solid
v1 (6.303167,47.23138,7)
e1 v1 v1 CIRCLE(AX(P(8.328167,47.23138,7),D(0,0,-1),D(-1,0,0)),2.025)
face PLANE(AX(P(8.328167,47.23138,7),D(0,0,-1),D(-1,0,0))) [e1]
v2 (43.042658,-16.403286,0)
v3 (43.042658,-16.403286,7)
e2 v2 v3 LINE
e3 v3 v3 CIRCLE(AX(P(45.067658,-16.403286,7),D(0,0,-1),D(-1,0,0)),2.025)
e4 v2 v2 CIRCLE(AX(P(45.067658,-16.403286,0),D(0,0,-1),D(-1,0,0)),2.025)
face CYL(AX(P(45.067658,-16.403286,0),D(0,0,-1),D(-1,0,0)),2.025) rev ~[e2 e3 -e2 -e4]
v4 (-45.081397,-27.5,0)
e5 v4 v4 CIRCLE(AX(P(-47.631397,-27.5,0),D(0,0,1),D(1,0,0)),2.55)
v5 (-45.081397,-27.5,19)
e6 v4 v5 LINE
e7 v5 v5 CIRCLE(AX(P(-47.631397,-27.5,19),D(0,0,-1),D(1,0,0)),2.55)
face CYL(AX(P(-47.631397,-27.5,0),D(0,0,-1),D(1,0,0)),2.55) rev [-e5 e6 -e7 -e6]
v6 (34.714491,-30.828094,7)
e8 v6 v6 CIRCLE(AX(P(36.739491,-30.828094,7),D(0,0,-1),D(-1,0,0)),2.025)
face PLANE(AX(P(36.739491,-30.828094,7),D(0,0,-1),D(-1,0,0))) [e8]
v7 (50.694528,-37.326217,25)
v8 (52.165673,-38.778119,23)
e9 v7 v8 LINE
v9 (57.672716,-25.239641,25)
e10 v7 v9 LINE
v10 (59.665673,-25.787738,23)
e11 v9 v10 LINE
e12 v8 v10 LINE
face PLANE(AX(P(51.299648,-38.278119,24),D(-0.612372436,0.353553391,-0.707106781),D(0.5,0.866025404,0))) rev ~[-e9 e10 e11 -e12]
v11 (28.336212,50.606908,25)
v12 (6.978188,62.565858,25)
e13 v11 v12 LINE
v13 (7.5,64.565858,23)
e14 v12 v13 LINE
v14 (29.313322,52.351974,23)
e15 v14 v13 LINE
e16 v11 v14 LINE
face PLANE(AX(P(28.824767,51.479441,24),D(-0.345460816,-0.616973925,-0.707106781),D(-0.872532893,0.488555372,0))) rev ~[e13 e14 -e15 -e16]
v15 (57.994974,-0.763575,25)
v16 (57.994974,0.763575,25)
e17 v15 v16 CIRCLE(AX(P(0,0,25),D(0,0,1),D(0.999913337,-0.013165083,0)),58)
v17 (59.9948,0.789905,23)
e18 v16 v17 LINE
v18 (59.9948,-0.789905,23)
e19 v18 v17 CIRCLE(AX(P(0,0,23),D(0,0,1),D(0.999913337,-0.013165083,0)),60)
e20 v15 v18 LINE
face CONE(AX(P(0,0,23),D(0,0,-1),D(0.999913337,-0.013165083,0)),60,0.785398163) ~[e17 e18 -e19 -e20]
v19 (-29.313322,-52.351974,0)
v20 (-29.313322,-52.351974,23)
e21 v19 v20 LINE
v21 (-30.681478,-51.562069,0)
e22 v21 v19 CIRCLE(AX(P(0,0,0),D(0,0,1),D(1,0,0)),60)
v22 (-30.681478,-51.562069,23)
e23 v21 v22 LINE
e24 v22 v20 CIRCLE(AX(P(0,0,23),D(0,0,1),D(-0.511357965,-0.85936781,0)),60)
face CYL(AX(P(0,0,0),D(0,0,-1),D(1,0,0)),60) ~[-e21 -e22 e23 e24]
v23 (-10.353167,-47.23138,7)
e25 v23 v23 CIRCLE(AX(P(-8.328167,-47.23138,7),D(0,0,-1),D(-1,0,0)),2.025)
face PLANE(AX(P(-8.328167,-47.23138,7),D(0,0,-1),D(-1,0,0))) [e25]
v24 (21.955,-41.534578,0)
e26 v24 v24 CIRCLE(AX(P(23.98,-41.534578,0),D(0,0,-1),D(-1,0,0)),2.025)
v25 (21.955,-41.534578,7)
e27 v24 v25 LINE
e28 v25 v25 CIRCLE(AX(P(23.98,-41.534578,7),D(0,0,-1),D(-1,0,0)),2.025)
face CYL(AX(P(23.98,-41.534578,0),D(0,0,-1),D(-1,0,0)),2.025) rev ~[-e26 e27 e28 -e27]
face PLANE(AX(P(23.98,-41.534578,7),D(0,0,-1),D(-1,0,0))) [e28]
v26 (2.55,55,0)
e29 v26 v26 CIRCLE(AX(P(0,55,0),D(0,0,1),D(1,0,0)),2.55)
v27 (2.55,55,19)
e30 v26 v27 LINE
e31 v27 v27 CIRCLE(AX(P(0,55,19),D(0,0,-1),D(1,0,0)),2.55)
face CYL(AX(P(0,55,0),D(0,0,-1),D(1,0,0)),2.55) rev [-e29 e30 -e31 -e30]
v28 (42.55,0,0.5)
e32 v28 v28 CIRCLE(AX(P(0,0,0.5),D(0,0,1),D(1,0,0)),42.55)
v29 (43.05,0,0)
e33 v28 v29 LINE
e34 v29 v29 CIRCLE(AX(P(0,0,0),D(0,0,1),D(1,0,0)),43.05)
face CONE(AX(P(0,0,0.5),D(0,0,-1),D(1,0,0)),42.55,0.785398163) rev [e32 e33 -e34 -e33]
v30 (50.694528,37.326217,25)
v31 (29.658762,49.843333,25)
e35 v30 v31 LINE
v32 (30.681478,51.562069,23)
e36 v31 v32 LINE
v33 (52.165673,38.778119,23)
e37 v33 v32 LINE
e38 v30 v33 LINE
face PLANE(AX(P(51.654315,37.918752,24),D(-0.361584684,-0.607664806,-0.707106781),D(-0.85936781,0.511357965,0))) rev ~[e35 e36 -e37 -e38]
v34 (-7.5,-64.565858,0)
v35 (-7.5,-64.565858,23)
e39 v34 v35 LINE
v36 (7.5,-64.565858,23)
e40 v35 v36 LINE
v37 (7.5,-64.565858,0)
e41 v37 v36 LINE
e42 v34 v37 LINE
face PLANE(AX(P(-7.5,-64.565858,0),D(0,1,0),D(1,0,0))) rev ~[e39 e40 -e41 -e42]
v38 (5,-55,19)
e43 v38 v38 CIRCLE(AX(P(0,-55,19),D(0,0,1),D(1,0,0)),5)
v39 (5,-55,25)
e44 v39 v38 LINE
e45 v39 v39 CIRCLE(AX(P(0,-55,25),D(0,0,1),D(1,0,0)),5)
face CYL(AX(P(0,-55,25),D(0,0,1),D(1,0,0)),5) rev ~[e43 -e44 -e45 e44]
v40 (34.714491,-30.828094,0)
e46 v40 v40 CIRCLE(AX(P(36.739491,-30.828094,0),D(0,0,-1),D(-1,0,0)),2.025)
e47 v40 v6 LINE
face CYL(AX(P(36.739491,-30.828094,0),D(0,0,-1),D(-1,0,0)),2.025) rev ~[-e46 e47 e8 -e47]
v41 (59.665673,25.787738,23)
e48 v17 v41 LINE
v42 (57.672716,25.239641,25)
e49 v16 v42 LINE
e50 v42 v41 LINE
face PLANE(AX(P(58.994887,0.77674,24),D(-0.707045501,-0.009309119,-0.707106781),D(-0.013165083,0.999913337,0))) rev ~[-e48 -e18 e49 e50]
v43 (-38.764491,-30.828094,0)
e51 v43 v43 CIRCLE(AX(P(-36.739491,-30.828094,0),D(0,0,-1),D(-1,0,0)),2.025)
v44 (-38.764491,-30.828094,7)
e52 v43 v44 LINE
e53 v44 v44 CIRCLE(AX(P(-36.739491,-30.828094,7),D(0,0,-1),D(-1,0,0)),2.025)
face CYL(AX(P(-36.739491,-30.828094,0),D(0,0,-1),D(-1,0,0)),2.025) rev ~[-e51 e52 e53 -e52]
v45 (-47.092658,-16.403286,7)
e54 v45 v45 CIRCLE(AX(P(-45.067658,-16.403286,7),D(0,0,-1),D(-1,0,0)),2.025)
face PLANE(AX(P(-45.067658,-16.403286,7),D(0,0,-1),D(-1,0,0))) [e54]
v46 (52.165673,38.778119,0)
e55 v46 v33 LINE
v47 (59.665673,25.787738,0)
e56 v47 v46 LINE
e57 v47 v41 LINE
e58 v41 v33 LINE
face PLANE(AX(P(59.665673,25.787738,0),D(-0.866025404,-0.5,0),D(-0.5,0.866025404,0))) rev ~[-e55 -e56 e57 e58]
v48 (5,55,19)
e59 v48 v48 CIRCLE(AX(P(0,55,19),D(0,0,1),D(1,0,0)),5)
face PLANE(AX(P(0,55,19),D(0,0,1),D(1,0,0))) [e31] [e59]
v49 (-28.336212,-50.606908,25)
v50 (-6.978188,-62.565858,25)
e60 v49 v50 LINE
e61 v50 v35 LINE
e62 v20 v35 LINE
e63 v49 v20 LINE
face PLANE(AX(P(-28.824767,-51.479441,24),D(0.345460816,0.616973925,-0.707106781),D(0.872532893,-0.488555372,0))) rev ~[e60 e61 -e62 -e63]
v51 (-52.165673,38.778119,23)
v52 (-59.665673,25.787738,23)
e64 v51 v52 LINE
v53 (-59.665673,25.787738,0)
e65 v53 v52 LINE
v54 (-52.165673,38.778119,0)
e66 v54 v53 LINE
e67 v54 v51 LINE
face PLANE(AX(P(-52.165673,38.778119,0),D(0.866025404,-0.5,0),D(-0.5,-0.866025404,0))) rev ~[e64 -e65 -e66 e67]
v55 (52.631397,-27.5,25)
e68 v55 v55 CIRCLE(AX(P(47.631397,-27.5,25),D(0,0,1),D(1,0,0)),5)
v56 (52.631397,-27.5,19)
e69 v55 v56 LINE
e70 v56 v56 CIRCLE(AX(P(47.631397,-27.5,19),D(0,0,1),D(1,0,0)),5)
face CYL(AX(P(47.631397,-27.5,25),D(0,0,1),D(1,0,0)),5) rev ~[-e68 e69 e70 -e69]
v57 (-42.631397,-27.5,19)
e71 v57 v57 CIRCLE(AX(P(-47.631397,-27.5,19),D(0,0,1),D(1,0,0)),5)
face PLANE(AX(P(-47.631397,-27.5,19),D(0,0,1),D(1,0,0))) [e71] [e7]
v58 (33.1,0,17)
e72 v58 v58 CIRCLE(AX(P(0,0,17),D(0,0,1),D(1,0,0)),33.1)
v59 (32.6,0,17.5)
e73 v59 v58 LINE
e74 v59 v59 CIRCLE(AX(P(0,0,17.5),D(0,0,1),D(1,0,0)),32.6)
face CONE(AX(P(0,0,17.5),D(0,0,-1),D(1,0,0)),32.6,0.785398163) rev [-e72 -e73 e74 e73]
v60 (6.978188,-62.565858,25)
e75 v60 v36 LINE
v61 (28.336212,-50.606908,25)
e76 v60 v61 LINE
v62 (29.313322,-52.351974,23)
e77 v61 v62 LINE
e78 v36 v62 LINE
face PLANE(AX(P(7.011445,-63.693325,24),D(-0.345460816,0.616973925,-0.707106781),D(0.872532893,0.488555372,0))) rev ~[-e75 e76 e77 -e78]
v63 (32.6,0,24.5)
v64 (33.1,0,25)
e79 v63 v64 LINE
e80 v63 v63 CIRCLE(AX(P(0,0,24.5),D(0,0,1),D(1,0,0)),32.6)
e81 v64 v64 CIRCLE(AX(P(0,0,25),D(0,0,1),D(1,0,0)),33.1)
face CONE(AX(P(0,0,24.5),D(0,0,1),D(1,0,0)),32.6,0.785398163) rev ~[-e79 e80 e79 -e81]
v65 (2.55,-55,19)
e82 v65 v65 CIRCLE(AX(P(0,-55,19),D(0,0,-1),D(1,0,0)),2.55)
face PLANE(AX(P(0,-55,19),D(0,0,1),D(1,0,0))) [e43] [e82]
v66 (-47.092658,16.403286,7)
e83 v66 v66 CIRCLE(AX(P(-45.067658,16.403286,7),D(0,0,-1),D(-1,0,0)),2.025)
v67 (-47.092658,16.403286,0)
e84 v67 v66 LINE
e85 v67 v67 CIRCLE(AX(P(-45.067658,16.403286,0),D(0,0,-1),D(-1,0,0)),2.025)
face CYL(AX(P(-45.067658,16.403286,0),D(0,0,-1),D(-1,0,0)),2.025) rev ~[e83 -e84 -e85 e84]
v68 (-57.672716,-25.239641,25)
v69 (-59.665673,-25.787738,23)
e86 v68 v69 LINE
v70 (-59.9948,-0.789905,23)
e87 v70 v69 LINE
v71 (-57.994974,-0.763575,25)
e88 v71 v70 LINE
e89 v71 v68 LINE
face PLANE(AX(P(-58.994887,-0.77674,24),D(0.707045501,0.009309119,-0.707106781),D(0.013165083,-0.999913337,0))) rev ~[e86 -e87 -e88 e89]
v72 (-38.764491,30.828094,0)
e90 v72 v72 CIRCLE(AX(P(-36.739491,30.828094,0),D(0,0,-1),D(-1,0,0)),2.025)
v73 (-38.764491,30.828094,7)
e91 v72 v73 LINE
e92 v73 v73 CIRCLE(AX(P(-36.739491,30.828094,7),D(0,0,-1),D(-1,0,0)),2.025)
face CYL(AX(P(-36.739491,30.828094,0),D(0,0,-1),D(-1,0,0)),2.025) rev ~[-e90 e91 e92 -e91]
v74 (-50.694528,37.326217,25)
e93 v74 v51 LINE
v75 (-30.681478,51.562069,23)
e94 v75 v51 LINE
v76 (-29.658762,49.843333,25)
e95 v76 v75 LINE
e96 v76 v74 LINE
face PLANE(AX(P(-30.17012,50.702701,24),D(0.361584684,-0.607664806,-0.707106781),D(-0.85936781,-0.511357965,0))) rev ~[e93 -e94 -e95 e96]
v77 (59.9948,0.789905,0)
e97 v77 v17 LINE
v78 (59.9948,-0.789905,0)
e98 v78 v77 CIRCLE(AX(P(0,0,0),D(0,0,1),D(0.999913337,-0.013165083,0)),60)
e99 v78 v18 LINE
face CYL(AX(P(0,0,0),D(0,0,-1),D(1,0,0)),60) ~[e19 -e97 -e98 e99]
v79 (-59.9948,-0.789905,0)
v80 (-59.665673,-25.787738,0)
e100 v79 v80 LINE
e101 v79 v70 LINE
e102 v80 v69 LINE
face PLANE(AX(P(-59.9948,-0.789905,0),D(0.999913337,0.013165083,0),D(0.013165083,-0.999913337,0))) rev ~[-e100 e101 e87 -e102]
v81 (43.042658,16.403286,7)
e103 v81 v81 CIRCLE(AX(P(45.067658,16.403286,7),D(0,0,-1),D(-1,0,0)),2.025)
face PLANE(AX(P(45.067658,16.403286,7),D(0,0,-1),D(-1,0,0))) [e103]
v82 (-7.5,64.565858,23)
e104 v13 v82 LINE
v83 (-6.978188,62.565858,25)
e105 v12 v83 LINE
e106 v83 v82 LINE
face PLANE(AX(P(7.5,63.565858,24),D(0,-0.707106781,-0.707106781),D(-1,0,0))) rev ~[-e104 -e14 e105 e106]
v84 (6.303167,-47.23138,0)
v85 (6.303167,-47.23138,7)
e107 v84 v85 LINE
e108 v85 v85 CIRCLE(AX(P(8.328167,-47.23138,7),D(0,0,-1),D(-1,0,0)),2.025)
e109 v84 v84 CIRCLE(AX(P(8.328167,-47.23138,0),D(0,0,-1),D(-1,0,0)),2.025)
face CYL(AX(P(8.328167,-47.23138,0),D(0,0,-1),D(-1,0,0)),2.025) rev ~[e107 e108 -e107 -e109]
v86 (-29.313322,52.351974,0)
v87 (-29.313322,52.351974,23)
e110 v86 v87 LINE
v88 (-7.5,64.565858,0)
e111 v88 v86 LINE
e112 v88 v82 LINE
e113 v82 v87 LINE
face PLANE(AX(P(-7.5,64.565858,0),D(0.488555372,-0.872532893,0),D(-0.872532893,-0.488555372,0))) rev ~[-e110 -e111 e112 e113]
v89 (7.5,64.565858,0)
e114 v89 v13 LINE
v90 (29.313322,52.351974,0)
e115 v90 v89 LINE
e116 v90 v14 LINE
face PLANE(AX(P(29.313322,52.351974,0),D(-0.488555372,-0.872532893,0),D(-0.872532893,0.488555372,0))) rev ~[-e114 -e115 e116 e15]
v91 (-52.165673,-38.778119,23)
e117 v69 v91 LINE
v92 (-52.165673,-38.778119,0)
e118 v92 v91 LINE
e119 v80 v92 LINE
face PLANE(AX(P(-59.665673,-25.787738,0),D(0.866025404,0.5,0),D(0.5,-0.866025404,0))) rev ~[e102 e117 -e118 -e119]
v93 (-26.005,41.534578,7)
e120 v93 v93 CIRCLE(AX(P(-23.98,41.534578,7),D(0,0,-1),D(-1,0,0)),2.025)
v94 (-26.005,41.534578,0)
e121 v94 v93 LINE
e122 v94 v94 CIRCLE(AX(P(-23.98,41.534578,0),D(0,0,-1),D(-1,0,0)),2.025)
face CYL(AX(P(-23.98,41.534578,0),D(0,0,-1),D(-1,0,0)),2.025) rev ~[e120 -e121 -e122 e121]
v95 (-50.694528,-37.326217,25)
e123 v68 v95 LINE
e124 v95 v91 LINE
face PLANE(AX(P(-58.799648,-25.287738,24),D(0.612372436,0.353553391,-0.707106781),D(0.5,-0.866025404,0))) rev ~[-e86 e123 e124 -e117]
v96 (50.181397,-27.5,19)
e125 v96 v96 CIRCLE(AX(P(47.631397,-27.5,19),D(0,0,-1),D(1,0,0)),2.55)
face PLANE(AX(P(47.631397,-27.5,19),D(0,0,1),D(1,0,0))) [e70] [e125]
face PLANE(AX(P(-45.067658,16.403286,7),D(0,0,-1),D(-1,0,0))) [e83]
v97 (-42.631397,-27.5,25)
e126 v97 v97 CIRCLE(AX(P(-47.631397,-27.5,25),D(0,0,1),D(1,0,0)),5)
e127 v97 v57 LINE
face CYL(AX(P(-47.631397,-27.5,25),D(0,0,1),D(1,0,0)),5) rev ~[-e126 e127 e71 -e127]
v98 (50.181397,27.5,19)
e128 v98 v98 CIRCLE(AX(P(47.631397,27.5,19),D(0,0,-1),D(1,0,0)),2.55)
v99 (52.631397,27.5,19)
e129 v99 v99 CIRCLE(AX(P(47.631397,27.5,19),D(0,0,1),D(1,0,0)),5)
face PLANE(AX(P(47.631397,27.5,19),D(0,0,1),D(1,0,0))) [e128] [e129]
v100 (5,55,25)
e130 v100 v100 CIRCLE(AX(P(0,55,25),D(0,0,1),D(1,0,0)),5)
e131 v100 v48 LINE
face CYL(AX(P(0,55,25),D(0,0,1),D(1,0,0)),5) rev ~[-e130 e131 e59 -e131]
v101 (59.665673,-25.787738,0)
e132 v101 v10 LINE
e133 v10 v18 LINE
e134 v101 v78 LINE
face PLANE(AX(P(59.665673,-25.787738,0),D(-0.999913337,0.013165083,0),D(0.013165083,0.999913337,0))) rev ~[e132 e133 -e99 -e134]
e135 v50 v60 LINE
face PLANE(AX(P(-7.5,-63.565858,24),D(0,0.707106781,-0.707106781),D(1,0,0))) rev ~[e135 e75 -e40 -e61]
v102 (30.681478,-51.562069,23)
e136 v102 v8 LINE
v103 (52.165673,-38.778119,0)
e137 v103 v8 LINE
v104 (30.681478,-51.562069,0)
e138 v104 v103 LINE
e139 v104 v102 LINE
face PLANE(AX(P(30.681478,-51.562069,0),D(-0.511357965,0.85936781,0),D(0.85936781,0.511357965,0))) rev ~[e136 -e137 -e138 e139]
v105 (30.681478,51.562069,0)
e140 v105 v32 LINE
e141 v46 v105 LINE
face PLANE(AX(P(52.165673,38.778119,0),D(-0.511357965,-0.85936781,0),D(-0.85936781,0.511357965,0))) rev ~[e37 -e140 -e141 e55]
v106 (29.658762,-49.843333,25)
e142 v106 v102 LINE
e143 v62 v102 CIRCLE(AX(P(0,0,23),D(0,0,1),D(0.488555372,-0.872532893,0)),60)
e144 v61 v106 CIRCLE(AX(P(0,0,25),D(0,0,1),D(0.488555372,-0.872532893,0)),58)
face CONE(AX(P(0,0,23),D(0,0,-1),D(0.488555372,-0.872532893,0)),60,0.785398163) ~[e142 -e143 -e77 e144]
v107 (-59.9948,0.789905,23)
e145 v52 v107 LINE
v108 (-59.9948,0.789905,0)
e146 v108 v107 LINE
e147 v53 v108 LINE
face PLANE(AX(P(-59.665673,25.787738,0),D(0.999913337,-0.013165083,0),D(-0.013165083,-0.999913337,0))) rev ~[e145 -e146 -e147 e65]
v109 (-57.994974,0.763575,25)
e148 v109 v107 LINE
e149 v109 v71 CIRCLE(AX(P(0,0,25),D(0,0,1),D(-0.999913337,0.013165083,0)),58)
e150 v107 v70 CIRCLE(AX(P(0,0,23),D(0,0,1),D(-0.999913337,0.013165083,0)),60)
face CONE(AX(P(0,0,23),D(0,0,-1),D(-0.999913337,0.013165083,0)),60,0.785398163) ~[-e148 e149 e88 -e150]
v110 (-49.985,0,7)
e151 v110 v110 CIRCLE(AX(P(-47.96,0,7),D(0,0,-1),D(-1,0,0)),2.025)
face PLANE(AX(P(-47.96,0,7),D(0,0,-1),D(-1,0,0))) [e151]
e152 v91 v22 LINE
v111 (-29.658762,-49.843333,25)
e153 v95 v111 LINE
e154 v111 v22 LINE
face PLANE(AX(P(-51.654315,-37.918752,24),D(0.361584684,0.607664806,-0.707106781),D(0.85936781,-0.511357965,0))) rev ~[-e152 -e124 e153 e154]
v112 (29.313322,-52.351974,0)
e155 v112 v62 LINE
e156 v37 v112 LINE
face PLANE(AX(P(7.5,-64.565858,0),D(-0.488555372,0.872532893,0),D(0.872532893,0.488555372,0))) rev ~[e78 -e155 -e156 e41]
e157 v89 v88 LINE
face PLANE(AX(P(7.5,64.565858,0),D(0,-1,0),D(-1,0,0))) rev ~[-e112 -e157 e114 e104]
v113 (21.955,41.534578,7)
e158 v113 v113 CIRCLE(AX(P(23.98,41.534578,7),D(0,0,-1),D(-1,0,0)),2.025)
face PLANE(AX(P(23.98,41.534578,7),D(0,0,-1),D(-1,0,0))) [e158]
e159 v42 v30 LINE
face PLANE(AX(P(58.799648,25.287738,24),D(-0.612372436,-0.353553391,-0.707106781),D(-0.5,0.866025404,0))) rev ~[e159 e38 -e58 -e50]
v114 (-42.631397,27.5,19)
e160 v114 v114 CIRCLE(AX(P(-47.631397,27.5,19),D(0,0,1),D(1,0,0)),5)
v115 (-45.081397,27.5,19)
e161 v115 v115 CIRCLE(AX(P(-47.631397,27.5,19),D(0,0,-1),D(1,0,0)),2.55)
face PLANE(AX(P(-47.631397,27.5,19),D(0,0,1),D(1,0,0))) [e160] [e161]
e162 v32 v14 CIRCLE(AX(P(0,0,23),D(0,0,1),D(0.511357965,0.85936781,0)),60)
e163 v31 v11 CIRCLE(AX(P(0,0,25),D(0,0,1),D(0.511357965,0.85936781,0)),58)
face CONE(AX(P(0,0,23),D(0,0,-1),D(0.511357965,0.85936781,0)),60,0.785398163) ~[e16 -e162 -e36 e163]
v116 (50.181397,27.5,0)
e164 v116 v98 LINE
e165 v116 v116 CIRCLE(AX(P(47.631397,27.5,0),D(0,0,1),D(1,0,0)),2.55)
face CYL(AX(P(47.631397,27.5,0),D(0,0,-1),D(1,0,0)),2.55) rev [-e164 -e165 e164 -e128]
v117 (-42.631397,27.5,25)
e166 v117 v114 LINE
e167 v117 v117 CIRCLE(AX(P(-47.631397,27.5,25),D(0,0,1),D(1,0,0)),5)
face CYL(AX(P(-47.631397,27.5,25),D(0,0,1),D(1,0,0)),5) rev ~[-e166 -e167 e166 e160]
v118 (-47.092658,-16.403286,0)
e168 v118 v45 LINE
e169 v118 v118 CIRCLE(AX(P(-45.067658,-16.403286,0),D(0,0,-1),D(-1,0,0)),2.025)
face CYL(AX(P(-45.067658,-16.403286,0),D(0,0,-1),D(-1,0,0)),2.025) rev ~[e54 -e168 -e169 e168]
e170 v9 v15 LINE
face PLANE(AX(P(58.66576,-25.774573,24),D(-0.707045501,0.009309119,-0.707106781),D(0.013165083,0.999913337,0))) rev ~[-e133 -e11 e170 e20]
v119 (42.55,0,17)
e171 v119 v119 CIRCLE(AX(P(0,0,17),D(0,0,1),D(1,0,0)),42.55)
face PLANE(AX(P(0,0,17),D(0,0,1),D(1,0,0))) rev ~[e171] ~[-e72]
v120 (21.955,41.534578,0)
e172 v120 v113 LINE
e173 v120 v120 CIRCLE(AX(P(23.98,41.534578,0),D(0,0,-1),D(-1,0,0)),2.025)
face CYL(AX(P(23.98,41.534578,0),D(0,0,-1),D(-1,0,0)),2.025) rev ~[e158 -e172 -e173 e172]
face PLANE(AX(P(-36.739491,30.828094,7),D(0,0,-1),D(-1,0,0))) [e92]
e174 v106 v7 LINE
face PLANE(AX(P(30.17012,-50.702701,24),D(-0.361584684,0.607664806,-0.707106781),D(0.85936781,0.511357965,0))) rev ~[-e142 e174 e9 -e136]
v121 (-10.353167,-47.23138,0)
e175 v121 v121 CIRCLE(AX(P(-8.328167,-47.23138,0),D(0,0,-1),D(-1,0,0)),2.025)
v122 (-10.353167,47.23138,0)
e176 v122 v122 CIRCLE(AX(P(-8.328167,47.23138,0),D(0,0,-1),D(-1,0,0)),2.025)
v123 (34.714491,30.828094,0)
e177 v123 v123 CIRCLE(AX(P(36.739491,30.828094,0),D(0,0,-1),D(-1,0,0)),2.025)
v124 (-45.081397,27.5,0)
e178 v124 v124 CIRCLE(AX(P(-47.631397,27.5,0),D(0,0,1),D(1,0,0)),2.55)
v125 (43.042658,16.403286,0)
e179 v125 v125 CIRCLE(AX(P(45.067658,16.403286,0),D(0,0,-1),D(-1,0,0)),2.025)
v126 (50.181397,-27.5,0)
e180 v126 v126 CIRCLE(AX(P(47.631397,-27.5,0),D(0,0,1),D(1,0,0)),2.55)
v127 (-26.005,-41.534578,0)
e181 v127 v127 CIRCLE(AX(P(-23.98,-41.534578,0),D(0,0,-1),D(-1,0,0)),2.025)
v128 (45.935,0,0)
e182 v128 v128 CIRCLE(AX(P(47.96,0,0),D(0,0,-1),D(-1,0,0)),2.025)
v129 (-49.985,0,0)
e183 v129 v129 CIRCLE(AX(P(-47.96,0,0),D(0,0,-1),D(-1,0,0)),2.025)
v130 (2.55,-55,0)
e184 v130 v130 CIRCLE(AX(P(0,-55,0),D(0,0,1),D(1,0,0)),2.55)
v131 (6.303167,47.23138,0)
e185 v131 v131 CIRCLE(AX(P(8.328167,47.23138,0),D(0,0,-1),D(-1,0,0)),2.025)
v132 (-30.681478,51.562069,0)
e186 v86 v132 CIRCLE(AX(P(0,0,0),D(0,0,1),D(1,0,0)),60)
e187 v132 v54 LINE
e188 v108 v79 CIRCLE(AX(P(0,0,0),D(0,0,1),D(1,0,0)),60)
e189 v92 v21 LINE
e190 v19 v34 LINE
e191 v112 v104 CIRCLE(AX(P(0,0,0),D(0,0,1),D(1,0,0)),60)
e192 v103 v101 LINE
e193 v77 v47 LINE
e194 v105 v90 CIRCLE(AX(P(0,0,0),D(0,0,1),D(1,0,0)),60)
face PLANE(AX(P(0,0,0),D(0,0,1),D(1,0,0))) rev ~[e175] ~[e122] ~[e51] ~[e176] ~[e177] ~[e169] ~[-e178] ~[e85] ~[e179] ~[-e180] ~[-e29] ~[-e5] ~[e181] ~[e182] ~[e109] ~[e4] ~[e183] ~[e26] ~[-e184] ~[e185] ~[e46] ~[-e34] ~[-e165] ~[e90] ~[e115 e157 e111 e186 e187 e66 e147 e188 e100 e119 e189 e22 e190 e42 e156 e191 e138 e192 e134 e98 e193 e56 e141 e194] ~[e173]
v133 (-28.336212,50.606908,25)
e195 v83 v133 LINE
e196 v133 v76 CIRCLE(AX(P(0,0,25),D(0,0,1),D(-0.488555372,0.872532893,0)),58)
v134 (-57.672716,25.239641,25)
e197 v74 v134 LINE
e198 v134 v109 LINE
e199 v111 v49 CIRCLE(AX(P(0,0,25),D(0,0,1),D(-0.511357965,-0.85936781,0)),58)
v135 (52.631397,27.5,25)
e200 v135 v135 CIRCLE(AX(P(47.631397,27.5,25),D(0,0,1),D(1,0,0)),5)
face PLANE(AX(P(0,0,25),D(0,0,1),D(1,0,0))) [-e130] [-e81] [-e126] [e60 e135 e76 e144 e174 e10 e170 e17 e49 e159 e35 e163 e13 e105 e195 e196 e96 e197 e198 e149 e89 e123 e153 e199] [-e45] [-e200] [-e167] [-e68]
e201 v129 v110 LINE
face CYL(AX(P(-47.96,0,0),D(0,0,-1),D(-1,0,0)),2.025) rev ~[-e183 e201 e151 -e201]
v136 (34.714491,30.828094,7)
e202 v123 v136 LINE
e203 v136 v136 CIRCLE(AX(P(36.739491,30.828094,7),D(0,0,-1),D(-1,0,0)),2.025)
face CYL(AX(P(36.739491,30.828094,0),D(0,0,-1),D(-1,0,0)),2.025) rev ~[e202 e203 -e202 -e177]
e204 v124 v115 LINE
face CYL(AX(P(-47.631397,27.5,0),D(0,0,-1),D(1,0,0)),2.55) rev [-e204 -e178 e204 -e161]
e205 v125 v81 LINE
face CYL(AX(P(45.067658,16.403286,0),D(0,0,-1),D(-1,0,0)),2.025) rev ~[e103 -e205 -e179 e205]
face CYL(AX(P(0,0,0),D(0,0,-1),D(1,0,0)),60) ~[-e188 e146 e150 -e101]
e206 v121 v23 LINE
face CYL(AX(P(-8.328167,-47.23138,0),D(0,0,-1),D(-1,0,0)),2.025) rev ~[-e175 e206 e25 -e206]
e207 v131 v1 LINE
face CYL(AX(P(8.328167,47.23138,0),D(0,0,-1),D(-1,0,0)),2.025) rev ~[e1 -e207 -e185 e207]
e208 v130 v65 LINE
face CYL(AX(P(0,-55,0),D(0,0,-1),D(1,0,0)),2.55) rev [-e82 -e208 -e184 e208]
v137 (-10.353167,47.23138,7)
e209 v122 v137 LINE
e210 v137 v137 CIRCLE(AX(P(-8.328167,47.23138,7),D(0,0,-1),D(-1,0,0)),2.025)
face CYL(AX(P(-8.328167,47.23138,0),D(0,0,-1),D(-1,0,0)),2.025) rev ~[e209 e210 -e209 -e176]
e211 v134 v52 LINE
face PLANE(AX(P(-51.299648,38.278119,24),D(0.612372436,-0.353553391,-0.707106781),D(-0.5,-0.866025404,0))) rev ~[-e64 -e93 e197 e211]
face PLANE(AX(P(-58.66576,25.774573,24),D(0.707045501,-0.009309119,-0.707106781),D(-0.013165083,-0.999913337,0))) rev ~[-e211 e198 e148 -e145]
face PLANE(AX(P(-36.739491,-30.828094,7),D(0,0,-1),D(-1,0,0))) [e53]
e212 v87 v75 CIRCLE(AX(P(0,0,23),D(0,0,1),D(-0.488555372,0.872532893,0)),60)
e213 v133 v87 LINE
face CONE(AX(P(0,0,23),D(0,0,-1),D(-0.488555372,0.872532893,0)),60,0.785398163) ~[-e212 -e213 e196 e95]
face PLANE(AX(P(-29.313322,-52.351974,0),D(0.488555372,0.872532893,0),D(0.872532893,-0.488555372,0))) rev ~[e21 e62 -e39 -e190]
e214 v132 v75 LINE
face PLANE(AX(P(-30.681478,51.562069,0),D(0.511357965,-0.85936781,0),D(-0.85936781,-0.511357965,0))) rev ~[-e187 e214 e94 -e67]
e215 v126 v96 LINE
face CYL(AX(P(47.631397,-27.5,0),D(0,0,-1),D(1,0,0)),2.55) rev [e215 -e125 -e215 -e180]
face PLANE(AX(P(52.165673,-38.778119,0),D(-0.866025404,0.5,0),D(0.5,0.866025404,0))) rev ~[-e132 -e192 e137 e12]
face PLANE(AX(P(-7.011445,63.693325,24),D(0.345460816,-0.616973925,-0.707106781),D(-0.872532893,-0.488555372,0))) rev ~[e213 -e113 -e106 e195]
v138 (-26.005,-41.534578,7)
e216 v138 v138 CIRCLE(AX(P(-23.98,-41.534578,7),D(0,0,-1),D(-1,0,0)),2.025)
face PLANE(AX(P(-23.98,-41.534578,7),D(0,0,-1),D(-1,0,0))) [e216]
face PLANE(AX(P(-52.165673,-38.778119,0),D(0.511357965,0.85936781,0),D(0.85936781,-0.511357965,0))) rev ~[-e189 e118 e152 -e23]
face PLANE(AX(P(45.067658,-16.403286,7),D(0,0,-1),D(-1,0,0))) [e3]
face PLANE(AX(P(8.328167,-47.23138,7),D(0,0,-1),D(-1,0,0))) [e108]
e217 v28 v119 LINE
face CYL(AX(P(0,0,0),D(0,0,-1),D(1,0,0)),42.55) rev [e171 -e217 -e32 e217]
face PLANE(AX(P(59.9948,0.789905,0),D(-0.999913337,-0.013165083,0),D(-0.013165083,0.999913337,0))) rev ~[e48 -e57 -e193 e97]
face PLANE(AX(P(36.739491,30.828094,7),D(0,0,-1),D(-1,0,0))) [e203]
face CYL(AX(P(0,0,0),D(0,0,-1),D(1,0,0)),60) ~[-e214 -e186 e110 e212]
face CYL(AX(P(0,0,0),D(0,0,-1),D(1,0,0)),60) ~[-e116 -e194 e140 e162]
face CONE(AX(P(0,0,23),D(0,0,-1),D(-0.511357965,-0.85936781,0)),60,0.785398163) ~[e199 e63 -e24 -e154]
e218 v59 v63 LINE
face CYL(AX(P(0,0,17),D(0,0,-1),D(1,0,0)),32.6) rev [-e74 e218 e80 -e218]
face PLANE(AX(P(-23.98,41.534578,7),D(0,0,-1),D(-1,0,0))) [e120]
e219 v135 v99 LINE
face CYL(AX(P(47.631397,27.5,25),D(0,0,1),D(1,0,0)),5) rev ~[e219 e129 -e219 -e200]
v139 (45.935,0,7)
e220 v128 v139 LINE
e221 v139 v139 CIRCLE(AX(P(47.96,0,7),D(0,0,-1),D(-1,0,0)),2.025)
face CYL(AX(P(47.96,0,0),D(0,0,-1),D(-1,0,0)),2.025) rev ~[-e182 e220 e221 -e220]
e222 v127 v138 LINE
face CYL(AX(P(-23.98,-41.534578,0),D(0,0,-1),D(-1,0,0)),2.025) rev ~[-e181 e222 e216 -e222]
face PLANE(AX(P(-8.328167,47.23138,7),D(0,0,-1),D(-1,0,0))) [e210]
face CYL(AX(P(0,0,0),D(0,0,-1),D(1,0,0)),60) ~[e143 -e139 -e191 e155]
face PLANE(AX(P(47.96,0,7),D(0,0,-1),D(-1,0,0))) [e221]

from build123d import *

# Parameters (mm, degrees)
SKETCH1_R           = 60
SKETCH1_R_2         = 2.55
SKETCH1_R_3         = 42.55
BOSS_EXTRUDE1_DEPTH = 25
BOSS_EXTRUDE2_START = -8
SKETCH3_R           = 42.55
SKETCH3_R_2         = 32.6
BOSS_EXTRUDE2_DEPTH = 8
BOSS_EXTRUDE3_DEPTH = 25
SKETCH8_R           = 5
CUT_EXTRUDE1_DEPTH  = 6
CHAMFER2_SIZE       = 0.5
CHAMFER3_SIZE       = 2
SKETCH9_R           = 2.025
CUT_EXTRUDE2_DEPTH  = 7


with BuildPart() as part:
    # Sketch1 → Boss-Extrude1 (new body)
    with BuildSketch(Plane.XY):
        Circle(SKETCH1_R)
        with Locations((0, 55)):
            Circle(SKETCH1_R_2, mode=Mode.SUBTRACT)
        with Locations((47.631397208, 27.5)):
            Circle(SKETCH1_R_2, mode=Mode.SUBTRACT)
        with Locations((47.631397208, -27.5)):
            Circle(SKETCH1_R_2, mode=Mode.SUBTRACT)
        with Locations((0, -55)):
            Circle(SKETCH1_R_2, mode=Mode.SUBTRACT)
        with Locations((-47.631397208, -27.5)):
            Circle(SKETCH1_R_2, mode=Mode.SUBTRACT)
        with Locations((-47.631397208, 27.5)):
            Circle(SKETCH1_R_2, mode=Mode.SUBTRACT)
        Circle(SKETCH1_R_3, mode=Mode.SUBTRACT)
    extrude(amount=BOSS_EXTRUDE1_DEPTH)

    # Sketch3 → Boss-Extrude2 (add)
    with BuildSketch(Plane.XY.offset(25).offset(BOSS_EXTRUDE2_START)):
        Circle(SKETCH3_R)
        Circle(SKETCH3_R_2, mode=Mode.SUBTRACT)
    extrude(amount=BOSS_EXTRUDE2_DEPTH)

    # Sketch7 → Boss-Extrude3 (add)
    with BuildSketch(Plane(origin=(0, 0, 0), x_dir=(-1, 0, 0), z_dir=(0, 0, -1))):
        with BuildLine():
            Line((-29.313322314, 52.351973553), (-7.5, 64.565857851))
            Line((-7.5, 64.565857851), (7.5, 64.565857851))
            Line((7.5, 64.565857851), (29.313322314, 52.351973553))
            ThreePointArc((29.313322314, 52.351973553), (0, 60), (-29.313322314, 52.351973553))
        make_face()
        with BuildLine():
            Line((59.665673116, 25.787738397), (59.994800192, 0.789904984))
            ThreePointArc((59.994800192, 0.789904984), (51.961524227, 30), (30.681477878, 51.56206857))
            Line((30.681477878, 51.56206857), (52.165673116, 38.778119454))
            Line((52.165673116, 38.778119454), (59.665673116, 25.787738397))
        make_face()
        with BuildLine():
            Line((52.165673116, -38.778119454), (30.681477878, -51.56206857))
            ThreePointArc((30.681477878, -51.56206857), (51.961524227, -30), (59.994800192, -0.789904984))
            Line((59.994800192, -0.789904984), (59.665673116, -25.787738397))
            Line((59.665673116, -25.787738397), (52.165673116, -38.778119454))
        make_face()
        with BuildLine():
            Line((-7.5, -64.565857851), (-29.313322314, -52.351973553))
            ThreePointArc((-29.313322314, -52.351973553), (0, -60), (29.313322314, -52.351973553))
            Line((29.313322314, -52.351973553), (7.5, -64.565857851))
            Line((7.5, -64.565857851), (-7.5, -64.565857851))
        make_face()
        with BuildLine():
            Line((-59.665673116, -25.787738397), (-59.994800192, -0.789904984))
            ThreePointArc((-59.994800192, -0.789904984), (-51.961524227, -30), (-30.681477878, -51.56206857))
            Line((-30.681477878, -51.56206857), (-52.165673116, -38.778119454))
            Line((-52.165673116, -38.778119454), (-59.665673116, -25.787738397))
        make_face()
        with BuildLine():
            Line((-52.165673116, 38.778119454), (-30.681477878, 51.56206857))
            ThreePointArc((-30.681477878, 51.56206857), (-51.961524227, 30), (-59.994800192, 0.789904984))
            Line((-59.994800192, 0.789904984), (-59.665673116, 25.787738397))
            Line((-59.665673116, 25.787738397), (-52.165673116, 38.778119454))
        make_face()
    extrude(amount=-BOSS_EXTRUDE3_DEPTH)

    # Sketch8 → Cut-Extrude1 (cut)
    with BuildSketch(Plane.XY.offset(25)):
        with Locations((0, 55)):
            Circle(SKETCH8_R)
        with Locations((47.631397208, 27.5)):
            Circle(SKETCH8_R)
        with Locations((47.631397208, -27.5)):
            Circle(SKETCH8_R)
        with Locations((0, -55)):
            Circle(SKETCH8_R)
        with Locations((-47.631397208, -27.5)):
            Circle(SKETCH8_R)
        with Locations((-47.631397208, 27.5)):
            Circle(SKETCH8_R)
    extrude(amount=-CUT_EXTRUDE1_DEPTH, mode=Mode.SUBTRACT)

    # Chamfer2
    chamfer2_edges = [part.edges().sort_by_distance(p)[0] for p in [
        (-32.6, 0, 17),
        (-32.6, 0, 25),
        (-42.55, 0, 0),
    ]]
    chamfer(chamfer2_edges, length=CHAMFER2_SIZE)

    # Chamfer3
    chamfer3_edges = [part.edges().sort_by_distance(p)[0] for p in [
        (-30, 51.961524227, 25),
        (-18.406661157, 58.458915702, 25),
        (0, 64.565857851, 25),
        (18.406661157, 58.458915702, 25),
        (-60, 0, 25),
        (-59.830236654, 13.28882169, 25),
        (-55.915673116, 32.282928925, 25),
        (-41.423575497, 45.170094012, 25),
        (-30, -51.961524227, 25),
        (-41.423575497, -45.170094012, 25),
        (-55.915673116, -32.282928925, 25),
        (-59.830236654, -13.28882169, 25),
        (30, -51.961524227, 25),
        (18.406661157, -58.458915702, 25),
        (0, -64.565857851, 25),
        (-18.406661157, -58.458915702, 25),
        (60, 0, 25),
        (59.830236654, -13.28882169, 25),
        (55.915673116, -32.282928925, 25),
        (41.423575497, -45.170094012, 25),
        (30, 51.961524227, 25),
        (41.423575497, 45.170094012, 25),
        (55.915673116, 32.282928925, 25),
        (59.830236654, 13.28882169, 25),
    ]]
    chamfer(chamfer3_edges, length=CHAMFER3_SIZE)

    # Sketch9 → Cut-Extrude2 (cut)
    with BuildSketch(Plane(origin=(0, 0, 0), x_dir=(-1, 0, 0), z_dir=(0, 0, -1))):
        with Locations((-8.328166601, 47.231379834)):
            Circle(SKETCH9_R)
        with Locations((8.328166601, 47.231379834)):
            Circle(SKETCH9_R)
        with Locations((23.98, 41.534578366)):
            Circle(SKETCH9_R)
        with Locations((36.739491492, 30.828093761)):
            Circle(SKETCH9_R)
        with Locations((45.067658093, 16.403286074)):
            Circle(SKETCH9_R)
        with Locations((47.96, 0)):
            Circle(SKETCH9_R)
        with Locations((45.067658093, -16.403286074)):
            Circle(SKETCH9_R)
        with Locations((36.739491492, -30.828093761)):
            Circle(SKETCH9_R)
        with Locations((23.98, -41.534578366)):
            Circle(SKETCH9_R)
        with Locations((8.328166601, -47.231379834)):
            Circle(SKETCH9_R)
        with Locations((-8.328166601, -47.231379834)):
            Circle(SKETCH9_R)
        with Locations((-23.98, -41.534578366)):
            Circle(SKETCH9_R)
        with Locations((-36.739491492, -30.828093761)):
            Circle(SKETCH9_R)
        with Locations((-45.067658093, -16.403286074)):
            Circle(SKETCH9_R)
        with Locations((-47.96, 0)):
            Circle(SKETCH9_R)
        with Locations((-45.067658093, 16.403286074)):
            Circle(SKETCH9_R)
        with Locations((-36.739491492, 30.828093761)):
            Circle(SKETCH9_R)
        with Locations((-23.98, 41.534578366)):
            Circle(SKETCH9_R)
    extrude(amount=-CUT_EXTRUDE2_DEPTH, mode=Mode.SUBTRACT)


solid = part.part
